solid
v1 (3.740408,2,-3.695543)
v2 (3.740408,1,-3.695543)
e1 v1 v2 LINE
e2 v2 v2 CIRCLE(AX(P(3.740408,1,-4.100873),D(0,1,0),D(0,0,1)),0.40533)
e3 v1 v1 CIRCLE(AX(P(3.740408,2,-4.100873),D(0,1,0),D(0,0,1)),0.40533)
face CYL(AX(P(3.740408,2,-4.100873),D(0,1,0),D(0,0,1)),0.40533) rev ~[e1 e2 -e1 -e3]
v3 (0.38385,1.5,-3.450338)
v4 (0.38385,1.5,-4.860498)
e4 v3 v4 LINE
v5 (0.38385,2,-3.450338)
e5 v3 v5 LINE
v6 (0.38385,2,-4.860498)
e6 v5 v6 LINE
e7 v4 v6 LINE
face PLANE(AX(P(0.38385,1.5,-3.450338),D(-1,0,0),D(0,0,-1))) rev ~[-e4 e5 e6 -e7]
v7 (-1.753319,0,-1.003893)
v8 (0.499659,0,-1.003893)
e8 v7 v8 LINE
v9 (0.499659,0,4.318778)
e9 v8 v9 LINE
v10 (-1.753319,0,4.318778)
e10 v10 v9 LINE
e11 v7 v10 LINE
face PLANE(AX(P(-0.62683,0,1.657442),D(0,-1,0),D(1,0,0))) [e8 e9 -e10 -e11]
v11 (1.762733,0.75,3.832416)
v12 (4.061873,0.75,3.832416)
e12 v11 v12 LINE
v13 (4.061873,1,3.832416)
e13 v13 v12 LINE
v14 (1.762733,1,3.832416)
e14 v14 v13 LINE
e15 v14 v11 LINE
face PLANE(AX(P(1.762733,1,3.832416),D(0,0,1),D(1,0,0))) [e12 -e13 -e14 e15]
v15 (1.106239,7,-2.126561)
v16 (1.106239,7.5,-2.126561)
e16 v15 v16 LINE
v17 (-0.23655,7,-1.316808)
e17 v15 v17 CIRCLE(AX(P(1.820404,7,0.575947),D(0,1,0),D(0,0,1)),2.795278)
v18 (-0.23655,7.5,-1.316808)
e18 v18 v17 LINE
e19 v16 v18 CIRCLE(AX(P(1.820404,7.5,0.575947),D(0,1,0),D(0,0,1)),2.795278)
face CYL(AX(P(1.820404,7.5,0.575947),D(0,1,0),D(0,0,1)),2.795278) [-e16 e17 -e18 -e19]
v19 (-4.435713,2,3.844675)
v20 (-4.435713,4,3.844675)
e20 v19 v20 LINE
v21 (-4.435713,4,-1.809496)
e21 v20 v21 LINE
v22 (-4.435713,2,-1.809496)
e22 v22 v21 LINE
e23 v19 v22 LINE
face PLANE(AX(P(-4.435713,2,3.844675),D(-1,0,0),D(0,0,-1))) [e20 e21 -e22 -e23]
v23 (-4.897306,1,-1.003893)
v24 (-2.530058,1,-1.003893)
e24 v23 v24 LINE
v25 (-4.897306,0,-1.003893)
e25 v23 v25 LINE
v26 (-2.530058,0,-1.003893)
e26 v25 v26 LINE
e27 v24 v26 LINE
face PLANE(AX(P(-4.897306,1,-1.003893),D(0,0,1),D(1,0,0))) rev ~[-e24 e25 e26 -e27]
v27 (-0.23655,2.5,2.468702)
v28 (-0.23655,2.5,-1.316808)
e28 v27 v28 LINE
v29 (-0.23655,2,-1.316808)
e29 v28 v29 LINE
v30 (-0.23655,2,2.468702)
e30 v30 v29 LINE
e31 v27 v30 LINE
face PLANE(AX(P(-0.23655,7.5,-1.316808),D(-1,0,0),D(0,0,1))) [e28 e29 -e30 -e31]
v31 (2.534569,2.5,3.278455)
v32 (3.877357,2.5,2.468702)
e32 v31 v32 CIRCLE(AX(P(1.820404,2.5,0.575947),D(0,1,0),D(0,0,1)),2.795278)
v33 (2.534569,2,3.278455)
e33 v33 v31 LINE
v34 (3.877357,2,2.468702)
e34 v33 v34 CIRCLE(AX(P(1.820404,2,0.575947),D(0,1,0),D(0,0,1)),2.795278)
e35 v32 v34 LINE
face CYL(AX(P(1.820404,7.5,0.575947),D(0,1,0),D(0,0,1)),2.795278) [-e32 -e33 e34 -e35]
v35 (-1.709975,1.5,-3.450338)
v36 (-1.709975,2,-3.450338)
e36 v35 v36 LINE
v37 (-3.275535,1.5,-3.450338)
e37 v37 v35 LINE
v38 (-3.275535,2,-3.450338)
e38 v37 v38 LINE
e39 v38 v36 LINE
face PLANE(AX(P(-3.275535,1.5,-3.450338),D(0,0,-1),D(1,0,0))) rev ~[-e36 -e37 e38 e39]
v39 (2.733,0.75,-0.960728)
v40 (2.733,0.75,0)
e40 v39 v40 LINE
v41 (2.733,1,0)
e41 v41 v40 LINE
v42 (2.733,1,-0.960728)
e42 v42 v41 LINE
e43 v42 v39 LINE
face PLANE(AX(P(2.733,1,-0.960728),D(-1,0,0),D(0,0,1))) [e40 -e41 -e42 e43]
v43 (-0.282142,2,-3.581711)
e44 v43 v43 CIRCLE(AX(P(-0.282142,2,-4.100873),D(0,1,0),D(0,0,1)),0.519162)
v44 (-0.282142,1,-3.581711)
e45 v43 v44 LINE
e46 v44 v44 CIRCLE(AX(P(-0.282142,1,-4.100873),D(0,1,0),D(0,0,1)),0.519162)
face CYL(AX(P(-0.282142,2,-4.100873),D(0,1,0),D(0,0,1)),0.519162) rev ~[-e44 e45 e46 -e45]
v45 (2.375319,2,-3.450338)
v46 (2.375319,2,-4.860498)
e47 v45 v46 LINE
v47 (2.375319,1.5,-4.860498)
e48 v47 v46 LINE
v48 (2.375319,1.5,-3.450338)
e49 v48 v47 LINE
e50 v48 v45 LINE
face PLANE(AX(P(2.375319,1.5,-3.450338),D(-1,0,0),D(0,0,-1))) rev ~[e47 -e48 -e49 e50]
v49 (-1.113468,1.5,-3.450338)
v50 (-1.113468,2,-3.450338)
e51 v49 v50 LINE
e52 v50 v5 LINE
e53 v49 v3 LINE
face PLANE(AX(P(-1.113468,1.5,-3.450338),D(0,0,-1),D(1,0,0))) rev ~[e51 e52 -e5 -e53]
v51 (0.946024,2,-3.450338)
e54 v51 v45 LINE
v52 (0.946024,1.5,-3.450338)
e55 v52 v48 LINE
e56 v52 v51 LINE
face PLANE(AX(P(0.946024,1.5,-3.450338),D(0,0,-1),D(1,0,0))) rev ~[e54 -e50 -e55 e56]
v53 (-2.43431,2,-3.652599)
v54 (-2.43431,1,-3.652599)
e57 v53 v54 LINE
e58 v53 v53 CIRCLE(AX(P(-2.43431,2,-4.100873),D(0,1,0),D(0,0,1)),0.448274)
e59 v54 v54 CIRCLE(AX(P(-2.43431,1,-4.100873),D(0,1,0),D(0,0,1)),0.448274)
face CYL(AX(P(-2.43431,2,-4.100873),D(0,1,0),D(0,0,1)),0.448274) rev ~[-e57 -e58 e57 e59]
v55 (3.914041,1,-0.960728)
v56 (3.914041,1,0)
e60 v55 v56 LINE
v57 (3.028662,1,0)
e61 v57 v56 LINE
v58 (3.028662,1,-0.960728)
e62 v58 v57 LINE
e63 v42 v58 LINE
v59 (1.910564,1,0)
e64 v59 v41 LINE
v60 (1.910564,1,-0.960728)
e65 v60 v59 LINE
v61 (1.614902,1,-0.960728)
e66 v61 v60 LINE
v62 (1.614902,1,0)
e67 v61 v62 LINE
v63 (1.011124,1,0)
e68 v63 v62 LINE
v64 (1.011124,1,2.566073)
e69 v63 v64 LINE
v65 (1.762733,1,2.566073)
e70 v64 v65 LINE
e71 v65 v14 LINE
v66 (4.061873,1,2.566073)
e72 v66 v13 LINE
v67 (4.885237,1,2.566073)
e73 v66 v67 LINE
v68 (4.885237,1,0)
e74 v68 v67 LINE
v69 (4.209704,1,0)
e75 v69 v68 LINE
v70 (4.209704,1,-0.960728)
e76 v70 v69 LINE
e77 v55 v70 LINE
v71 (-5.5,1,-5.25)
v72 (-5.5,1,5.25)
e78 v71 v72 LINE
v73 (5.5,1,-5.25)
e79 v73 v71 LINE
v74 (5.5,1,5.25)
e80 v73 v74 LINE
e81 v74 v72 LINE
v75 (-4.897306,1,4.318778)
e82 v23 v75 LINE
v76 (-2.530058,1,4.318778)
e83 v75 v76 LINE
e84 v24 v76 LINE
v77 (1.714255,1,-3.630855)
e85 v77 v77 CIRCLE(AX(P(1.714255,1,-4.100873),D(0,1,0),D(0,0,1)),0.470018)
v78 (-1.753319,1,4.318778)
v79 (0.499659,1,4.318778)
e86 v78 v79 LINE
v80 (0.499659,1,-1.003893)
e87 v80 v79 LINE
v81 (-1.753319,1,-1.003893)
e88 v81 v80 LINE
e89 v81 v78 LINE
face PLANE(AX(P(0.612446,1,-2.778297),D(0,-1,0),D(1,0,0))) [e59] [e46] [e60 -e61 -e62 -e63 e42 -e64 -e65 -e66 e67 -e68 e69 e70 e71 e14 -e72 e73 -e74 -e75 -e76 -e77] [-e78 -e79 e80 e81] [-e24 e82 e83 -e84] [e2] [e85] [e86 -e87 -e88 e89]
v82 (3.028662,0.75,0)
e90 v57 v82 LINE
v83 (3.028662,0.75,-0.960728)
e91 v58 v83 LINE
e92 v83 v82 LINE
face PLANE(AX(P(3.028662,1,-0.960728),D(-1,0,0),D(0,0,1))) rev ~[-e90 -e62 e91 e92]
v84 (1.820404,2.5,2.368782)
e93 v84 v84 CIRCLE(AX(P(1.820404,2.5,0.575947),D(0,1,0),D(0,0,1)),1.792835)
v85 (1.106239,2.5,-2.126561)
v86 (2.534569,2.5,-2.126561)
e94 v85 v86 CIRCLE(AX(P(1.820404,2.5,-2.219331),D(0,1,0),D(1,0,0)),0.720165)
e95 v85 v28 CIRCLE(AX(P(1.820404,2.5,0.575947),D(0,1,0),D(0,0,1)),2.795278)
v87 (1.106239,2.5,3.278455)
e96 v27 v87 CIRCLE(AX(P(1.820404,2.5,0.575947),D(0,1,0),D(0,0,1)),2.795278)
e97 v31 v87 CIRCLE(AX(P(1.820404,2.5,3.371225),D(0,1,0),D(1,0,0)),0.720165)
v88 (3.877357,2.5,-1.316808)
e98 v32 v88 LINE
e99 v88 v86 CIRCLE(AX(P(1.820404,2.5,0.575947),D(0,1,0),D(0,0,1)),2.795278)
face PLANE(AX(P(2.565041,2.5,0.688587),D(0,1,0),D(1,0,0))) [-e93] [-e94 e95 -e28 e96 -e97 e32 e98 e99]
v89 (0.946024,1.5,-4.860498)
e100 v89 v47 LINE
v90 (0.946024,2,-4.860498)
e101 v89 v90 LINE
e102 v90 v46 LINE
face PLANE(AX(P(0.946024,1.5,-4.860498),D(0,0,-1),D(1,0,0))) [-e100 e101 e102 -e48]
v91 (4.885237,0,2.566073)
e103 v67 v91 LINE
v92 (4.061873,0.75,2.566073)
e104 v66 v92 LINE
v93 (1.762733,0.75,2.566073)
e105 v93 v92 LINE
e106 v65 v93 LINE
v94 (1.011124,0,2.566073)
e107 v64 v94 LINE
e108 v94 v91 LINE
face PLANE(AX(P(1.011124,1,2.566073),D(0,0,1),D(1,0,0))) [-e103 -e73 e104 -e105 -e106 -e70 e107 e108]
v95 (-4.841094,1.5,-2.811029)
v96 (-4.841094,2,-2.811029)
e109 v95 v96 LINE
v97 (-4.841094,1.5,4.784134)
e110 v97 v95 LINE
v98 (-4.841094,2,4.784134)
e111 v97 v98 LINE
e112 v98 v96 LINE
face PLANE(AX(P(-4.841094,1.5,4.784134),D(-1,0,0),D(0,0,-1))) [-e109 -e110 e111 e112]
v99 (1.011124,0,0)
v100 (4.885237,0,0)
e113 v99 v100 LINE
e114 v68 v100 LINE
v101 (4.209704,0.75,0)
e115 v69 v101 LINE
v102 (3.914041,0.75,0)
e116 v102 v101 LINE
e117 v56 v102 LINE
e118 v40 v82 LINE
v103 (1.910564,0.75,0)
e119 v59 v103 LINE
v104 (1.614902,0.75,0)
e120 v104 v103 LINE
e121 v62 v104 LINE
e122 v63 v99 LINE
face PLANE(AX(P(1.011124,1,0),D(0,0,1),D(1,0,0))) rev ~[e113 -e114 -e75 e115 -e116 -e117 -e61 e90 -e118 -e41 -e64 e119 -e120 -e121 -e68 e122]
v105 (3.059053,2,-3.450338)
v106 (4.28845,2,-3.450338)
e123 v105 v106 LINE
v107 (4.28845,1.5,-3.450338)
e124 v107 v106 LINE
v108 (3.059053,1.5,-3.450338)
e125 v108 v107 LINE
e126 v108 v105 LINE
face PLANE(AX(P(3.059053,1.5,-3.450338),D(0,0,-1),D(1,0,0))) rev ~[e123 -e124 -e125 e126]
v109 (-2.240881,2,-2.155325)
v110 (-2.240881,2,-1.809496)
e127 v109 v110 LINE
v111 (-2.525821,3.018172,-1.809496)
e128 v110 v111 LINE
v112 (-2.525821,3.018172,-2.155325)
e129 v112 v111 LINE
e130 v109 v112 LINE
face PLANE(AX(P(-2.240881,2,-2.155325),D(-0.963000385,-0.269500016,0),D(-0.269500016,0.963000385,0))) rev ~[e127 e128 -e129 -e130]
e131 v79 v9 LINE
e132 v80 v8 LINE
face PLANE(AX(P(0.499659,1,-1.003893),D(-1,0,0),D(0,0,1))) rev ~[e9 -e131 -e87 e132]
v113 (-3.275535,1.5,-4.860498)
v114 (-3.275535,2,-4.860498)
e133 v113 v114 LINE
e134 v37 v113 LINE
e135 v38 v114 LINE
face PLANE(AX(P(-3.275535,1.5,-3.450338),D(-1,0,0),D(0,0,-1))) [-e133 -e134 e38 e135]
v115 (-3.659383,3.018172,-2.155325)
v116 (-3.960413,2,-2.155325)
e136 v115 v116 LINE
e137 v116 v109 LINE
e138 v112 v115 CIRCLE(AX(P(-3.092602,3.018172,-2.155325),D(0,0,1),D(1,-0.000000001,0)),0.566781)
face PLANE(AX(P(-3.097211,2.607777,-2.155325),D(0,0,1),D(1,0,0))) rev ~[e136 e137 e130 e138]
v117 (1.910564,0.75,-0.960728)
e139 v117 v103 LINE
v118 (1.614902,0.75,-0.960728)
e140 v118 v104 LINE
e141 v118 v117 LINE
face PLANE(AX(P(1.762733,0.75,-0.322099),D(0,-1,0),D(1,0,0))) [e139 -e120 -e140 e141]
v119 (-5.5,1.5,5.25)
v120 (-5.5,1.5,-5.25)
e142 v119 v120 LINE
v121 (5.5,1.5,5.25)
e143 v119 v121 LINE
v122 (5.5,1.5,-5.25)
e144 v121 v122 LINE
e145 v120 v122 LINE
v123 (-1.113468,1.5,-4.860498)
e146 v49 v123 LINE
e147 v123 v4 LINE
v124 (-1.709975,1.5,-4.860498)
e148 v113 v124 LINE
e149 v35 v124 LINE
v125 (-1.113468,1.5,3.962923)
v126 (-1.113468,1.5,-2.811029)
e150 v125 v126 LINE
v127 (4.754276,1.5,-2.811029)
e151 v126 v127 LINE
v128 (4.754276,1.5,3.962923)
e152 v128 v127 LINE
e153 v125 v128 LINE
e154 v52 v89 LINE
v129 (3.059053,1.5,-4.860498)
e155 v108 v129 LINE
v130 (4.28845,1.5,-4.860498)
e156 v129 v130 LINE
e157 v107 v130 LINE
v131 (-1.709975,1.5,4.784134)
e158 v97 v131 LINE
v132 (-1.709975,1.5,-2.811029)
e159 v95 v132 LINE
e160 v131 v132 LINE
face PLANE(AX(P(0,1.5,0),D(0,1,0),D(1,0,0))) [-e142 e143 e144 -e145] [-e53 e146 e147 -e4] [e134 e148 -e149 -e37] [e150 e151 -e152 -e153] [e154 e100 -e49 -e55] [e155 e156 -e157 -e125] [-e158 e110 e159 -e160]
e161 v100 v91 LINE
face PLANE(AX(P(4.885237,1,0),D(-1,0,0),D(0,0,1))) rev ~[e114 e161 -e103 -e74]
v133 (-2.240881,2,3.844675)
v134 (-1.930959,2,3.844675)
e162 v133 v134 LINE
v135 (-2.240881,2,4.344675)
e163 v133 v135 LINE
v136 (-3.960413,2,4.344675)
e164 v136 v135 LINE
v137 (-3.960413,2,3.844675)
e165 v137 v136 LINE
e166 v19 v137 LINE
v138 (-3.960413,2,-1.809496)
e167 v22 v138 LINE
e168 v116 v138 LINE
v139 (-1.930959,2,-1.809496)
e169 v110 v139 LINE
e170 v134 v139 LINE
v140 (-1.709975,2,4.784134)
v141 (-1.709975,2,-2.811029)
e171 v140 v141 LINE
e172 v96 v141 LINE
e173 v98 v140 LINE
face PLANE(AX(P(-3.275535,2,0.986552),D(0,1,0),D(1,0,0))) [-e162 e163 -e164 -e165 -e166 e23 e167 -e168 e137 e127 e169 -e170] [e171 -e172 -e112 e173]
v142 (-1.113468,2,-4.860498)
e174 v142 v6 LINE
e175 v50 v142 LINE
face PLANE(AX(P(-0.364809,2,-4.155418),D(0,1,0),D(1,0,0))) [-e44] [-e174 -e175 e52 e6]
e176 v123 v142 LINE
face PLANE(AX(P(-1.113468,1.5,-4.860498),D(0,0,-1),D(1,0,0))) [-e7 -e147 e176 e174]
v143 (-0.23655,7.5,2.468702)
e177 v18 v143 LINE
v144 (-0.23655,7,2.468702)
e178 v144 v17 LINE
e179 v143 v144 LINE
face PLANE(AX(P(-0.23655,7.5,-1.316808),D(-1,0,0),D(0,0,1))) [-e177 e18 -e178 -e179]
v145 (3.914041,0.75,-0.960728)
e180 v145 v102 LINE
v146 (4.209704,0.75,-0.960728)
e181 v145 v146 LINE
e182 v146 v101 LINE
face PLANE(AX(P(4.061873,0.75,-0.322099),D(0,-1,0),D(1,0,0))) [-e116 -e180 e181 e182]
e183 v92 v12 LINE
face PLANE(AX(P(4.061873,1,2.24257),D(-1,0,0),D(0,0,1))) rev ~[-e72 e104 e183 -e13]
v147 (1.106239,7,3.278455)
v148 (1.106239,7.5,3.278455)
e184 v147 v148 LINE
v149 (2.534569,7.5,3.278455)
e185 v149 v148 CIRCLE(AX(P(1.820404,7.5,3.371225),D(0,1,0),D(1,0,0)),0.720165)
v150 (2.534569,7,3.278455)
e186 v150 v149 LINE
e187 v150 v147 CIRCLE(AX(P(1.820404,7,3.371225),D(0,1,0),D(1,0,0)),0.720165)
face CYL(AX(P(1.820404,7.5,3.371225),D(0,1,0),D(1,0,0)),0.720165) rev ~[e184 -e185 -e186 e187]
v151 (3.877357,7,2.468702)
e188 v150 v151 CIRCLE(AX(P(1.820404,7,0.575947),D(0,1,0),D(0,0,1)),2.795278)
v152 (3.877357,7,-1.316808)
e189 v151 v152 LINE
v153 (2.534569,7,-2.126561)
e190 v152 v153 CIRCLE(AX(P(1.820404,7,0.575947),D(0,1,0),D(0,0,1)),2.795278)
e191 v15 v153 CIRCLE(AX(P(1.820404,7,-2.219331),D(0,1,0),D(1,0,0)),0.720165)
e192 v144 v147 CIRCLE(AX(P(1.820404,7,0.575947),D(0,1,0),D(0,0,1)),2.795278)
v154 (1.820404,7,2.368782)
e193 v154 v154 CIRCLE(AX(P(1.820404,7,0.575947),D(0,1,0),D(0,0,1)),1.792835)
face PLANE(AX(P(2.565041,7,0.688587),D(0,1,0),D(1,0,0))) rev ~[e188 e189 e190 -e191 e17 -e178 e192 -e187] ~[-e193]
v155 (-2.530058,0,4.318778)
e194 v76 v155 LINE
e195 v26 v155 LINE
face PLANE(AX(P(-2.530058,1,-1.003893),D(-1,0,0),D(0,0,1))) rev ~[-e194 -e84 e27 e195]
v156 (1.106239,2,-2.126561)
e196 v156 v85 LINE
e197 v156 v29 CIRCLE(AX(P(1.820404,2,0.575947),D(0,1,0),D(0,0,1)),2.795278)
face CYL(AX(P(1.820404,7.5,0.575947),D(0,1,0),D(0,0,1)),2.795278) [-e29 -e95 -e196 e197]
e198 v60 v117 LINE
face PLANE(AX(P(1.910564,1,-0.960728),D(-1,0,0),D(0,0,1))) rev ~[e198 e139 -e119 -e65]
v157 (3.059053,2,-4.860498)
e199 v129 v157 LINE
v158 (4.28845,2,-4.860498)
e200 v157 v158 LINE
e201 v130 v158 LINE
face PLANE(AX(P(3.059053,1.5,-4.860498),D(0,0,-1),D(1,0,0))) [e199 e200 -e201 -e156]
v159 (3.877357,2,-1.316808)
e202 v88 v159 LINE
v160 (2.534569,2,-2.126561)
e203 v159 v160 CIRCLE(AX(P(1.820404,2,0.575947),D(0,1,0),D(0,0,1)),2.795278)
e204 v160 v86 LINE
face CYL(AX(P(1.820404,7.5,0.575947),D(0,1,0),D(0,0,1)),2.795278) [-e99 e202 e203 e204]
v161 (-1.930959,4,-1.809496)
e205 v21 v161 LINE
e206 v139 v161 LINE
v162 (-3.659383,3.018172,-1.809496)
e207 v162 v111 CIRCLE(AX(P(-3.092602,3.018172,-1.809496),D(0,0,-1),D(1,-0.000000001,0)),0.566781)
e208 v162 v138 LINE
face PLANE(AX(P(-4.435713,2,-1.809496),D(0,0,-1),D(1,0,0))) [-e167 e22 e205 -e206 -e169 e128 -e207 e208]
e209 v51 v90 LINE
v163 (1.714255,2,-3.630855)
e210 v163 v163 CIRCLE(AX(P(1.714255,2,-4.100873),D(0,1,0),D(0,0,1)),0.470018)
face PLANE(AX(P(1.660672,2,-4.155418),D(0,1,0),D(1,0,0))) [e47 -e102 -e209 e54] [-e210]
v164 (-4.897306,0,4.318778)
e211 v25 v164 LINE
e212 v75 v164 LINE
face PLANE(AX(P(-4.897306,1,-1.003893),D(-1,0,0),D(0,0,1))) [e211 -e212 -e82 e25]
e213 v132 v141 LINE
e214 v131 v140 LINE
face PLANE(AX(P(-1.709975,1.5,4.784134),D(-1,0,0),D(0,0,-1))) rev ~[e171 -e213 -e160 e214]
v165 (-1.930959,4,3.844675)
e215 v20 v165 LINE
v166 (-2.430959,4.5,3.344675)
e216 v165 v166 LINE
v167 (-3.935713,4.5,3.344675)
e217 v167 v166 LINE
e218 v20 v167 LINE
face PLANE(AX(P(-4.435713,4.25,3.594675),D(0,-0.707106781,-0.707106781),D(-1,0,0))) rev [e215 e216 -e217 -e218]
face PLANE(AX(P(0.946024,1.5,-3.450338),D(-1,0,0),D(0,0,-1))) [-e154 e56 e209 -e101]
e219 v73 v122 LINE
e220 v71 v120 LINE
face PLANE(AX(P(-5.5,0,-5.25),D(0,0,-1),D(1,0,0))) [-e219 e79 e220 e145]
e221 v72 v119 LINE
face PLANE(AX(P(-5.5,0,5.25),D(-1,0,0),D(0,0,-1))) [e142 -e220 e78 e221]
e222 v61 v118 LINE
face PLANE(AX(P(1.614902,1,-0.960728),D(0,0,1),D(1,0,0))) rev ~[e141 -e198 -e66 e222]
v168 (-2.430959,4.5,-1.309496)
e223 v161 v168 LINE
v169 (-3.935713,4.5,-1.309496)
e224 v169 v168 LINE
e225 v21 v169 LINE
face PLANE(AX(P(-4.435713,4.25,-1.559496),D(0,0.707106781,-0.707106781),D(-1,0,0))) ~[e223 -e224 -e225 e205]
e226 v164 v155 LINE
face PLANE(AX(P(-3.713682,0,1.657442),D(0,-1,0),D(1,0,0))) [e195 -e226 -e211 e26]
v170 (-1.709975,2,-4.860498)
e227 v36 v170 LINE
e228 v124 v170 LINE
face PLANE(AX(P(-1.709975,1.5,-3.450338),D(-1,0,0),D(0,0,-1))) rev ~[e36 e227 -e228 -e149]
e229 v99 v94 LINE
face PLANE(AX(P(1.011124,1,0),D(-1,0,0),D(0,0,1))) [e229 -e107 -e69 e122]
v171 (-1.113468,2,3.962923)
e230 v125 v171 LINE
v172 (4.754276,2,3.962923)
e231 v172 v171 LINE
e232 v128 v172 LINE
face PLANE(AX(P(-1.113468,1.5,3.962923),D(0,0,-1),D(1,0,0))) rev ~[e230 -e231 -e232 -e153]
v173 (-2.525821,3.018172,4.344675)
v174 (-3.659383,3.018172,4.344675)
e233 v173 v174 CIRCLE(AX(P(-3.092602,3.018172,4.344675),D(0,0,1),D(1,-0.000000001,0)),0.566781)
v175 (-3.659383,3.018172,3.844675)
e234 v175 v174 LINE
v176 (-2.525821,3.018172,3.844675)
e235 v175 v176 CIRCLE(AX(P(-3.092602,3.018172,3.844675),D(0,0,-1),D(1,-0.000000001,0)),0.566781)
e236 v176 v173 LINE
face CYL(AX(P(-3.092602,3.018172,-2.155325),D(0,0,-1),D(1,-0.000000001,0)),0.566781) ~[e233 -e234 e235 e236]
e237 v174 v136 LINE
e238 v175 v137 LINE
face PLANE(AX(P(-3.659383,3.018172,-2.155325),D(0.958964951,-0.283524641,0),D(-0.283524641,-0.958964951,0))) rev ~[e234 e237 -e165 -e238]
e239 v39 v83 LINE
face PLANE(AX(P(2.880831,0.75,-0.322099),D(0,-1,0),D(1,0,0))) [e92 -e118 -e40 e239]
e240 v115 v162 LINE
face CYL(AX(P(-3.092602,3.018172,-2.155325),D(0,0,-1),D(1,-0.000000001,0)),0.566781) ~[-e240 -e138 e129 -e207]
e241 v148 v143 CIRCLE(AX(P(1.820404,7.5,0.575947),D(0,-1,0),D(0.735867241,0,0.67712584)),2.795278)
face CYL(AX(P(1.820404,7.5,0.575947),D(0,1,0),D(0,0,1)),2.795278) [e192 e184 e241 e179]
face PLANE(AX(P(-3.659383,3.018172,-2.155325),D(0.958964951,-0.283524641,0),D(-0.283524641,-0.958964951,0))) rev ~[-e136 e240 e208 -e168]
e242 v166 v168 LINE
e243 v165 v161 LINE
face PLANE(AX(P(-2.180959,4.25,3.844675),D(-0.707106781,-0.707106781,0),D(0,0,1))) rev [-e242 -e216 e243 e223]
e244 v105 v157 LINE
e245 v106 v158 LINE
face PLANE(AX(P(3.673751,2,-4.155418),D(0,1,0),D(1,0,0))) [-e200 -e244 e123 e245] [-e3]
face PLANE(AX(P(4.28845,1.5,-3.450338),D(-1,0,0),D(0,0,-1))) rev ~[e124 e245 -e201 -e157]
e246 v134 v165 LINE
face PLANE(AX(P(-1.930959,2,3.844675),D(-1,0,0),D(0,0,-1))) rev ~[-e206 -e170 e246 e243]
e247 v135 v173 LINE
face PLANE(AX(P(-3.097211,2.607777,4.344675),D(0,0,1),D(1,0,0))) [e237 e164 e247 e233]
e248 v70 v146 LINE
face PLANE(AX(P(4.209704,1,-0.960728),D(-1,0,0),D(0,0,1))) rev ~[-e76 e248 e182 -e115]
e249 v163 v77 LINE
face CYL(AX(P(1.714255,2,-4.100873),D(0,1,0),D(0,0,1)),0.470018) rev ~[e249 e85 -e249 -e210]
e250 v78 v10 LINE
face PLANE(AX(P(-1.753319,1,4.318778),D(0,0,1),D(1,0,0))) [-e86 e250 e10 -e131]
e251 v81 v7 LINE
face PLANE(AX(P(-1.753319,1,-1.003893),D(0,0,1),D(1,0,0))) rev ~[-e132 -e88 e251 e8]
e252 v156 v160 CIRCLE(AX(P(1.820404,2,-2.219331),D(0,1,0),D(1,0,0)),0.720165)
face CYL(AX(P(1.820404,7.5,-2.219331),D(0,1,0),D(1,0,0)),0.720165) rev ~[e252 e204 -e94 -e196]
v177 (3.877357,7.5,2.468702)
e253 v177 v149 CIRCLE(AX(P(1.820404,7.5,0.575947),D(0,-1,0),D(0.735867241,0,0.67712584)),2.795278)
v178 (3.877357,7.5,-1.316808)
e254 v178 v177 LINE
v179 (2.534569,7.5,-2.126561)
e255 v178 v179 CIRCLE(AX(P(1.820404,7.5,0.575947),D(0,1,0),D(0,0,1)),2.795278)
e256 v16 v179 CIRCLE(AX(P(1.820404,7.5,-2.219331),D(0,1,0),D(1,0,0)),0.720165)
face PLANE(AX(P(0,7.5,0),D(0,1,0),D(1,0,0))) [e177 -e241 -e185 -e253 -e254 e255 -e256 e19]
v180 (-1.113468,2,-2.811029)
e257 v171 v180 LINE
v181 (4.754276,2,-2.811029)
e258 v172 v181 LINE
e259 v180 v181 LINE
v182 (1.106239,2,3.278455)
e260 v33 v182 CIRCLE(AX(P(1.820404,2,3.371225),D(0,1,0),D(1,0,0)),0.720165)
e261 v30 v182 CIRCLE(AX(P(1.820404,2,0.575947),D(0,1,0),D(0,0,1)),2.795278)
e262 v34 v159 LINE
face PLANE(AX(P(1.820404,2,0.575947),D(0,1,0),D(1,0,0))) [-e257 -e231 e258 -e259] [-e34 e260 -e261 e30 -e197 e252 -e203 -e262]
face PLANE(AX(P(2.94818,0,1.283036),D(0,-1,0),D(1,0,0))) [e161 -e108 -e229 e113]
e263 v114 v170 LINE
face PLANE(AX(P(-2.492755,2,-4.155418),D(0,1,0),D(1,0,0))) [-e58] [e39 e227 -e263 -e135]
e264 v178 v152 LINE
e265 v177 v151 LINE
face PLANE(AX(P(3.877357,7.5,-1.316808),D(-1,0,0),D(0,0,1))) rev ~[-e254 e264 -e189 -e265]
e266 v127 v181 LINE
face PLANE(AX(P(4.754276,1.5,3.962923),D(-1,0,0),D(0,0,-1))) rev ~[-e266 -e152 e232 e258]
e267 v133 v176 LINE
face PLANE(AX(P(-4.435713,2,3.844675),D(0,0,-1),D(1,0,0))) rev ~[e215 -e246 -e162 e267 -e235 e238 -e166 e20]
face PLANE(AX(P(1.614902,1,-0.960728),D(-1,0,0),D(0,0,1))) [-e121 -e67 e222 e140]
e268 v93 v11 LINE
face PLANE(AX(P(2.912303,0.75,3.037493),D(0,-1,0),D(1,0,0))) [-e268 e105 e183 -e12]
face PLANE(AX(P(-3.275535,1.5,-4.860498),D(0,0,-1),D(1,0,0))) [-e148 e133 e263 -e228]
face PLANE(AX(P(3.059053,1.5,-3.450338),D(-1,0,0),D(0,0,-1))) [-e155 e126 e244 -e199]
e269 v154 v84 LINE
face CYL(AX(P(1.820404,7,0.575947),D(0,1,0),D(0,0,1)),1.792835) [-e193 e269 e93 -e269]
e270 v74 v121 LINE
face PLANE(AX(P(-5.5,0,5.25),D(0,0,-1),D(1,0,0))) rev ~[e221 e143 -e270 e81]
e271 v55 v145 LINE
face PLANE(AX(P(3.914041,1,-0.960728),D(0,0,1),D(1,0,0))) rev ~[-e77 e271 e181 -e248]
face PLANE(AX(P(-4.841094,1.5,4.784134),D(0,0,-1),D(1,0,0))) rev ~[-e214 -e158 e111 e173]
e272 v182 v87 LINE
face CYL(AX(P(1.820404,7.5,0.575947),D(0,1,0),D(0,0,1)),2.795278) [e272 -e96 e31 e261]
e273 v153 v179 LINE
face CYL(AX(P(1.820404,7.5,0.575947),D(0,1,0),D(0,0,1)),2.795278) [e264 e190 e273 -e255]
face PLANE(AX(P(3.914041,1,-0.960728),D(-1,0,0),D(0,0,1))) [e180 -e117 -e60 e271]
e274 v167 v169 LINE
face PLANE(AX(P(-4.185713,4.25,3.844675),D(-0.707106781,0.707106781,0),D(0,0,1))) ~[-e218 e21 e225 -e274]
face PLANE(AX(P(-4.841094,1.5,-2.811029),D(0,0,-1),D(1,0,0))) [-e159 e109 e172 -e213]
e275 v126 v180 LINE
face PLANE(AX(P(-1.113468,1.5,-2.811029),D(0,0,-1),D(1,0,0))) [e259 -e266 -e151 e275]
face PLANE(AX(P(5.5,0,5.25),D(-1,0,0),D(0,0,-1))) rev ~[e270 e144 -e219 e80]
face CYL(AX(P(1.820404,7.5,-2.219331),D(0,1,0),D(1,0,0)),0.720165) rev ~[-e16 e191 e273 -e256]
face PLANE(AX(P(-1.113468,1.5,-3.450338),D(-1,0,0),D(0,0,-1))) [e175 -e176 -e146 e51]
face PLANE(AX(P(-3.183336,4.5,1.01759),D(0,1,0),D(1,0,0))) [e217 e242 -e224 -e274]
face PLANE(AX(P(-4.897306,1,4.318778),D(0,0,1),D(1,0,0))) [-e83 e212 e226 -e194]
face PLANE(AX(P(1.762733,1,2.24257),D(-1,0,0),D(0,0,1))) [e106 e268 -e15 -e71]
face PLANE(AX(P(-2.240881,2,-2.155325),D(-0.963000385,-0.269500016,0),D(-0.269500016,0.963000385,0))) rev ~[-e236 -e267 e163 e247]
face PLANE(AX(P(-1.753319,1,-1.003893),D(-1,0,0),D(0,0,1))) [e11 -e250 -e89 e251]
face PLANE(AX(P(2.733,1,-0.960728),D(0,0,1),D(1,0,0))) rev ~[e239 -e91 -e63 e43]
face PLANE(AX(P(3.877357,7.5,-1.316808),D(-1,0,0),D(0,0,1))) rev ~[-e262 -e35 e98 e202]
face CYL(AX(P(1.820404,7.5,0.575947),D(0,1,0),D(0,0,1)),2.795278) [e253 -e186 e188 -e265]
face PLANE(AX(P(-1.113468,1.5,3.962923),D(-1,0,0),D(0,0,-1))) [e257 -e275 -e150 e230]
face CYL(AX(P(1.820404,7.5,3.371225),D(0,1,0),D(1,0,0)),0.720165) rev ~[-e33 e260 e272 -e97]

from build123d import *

# Parameters (mm, degrees)
SKETCH1_W                = 11
SKETCH1_H                = 10.5
BOSS_EXTRUDE1_DEPTH      = 7.5
SKETCH2_W                = 11
SKETCH2_H                = 10.5
SKETCH2_R                = 2.795278083
CUT_EXTRUDE1_DEPTH       = 6
CUT_EXTRUDE2_DEPTH       = 6
SKETCH5_W                = 5.867744682
SKETCH5_H                = 6.773951876
SKETCH5_W_2              = 3.131118199
SKETCH5_H_2              = 7.595162723
SKETCH5_W_3              = 1.565559099
SKETCH5_H_3              = 1.410160094
SKETCH5_W_4              = 1.497318165
SKETCH5_W_5              = 1.429294678
SKETCH5_W_6              = 1.22939712
BOSS_EXTRUDE2_DEPTH      = 0.5
SKETCH6_R                = 0.720165483
CUT_EXTRUDE3_DEPTH       = 5.5
CUT_EXTRUDE4_START       = -0.5
SKETCH7_W                = 6.315969547
SKETCH7_H                = 7.313839146
SKETCH7_R                = 1.792834501
CUT_EXTRUDE4_DEPTH       = 4.5
SKETCH8_W                = 2.504754688
SKETCH8_H                = 5.654171149
BOSS_EXTRUDE3_DEPTH      = 2.5
CHAMFER1_SIZE            = 0.5
BOSS_EXTRUDE4_DEPTH      = 0.5
BOSS_EXTRUDE4_DEPTH_BACK = 6
SKETCH11_R               = 0.448273795
SKETCH11_R_2             = 0.519161878
SKETCH11_R_3             = 0.470017501
SKETCH11_R_4             = 0.405329815
CUT_EXTRUDE5_DEPTH       = 6
SKETCH12_W               = 15.986280265
SKETCH12_H               = 22.221265256
CUT_EXTRUDE6_DEPTH       = 1
SKETCH14_W               = 2.367247422
SKETCH14_H               = 5.32267157
SKETCH14_W_2             = 2.25297781
SKETCH14_W_3             = 3.874113275
SKETCH14_H_2             = 2.566072862
BOSS_EXTRUDE5_DEPTH      = 1
SKETCH15_W               = 0.295662385
SKETCH15_H               = 1.277257847
SKETCH15_W_2             = 2.29913968
SKETCH15_H_2             = 1.589846546
BOSS_EXTRUDE6_DEPTH      = 0.25


with BuildPart() as part:
    # Sketch1 → Boss-Extrude1 (new body)
    with BuildSketch(Plane(origin=(0, 0, 0), x_dir=(1, 0, 0), z_dir=(0, 1, 0))):
        Rectangle(SKETCH1_W, SKETCH1_H)
    extrude(amount=BOSS_EXTRUDE1_DEPTH)

    # Sketch2 → Cut-Extrude1 (cut)
    with BuildSketch(Plane(origin=(0, 7.5, 0), x_dir=(1, 0, 0), z_dir=(0, 1, 0))):
        Rectangle(SKETCH2_W, SKETCH2_H)
        with Locations(Location((1.820403911, -0.575947, 0), (0, 0, 270))):
            Circle(SKETCH2_R, mode=Mode.SUBTRACT)
    extrude(amount=-CUT_EXTRUDE1_DEPTH, mode=Mode.SUBTRACT)

    # Sketch4 → Cut-Extrude2 (cut)
    with BuildSketch(Plane(origin=(0, 7.5, 0), x_dir=(1, 0, 0), z_dir=(0, 1, 0))):
        with BuildLine():
            Line((3.877357483, 1.31680802), (3.877357483, -2.46870202))
            ThreePointArc((3.877357483, -2.46870202), (4.615681994, -0.575947), (3.877357483, 1.31680802))
        make_face()
        with BuildLine():
            Line((-0.236549661, 1.31680802), (-0.236549661, -2.46870202))
            ThreePointArc((-0.236549661, -2.46870202), (-0.974874172, -0.575947), (-0.236549661, 1.31680802))
        make_face()
    extrude(amount=-CUT_EXTRUDE2_DEPTH, mode=Mode.SUBTRACT)

    # Sketch5 → Boss-Extrude2 (add)
    with BuildSketch(Plane(origin=(0, 1.5, 0), x_dir=(1, 0, 0), z_dir=(0, 1, 0))):
        with Locations((1.820403911, -0.575947)):
            Rectangle(SKETCH5_W, SKETCH5_H)
        with Locations((-3.275534534, -0.986552423)):
            Rectangle(SKETCH5_W_2, SKETCH5_H_2)
        with Locations((-2.492754984, 4.155418326)):
            Rectangle(SKETCH5_W_3, SKETCH5_H_3)
        with Locations((-0.364809348, 4.155418326)):
            Rectangle(SKETCH5_W_4, SKETCH5_H_3)
        with Locations((1.660671656, 4.155418326)):
            Rectangle(SKETCH5_W_5, SKETCH5_H_3)
        with Locations((3.673751281, 4.155418326)):
            Rectangle(SKETCH5_W_6, SKETCH5_H_3)
    extrude(amount=BOSS_EXTRUDE2_DEPTH)

    # Sketch6 → Cut-Extrude3 (cut)
    with BuildSketch(Plane(origin=(0, 7.5, 0), x_dir=(1, 0, 0), z_dir=(0, 1, 0))):
        with Locations((1.820403911, 2.219331083)):
            Circle(SKETCH6_R)
        with Locations((1.820403911, -3.371225083)):
            Circle(SKETCH6_R)
    extrude(amount=-CUT_EXTRUDE3_DEPTH, mode=Mode.SUBTRACT)

    # Sketch7 → Cut-Extrude4 (cut)
    with BuildSketch(Plane(origin=(0, 7.5, 0), x_dir=(1, 0, 0), z_dir=(0, 1, 0)).offset(CUT_EXTRUDE4_START)):
        with Locations((2.565041423, -0.688586972)):
            Rectangle(SKETCH7_W, SKETCH7_H)
        with Locations(Location((1.820403911, -0.575947, 0), (0, 0, 270))):
            Circle(SKETCH7_R, mode=Mode.SUBTRACT)
    extrude(amount=-CUT_EXTRUDE4_DEPTH, mode=Mode.SUBTRACT)

    # Sketch8 → Boss-Extrude3 (add)
    with BuildSketch(Plane(origin=(0, 2, 0), x_dir=(1, 0, 0), z_dir=(0, 1, 0))):
        with Locations((-3.183335966, -1.017589679)):
            Rectangle(SKETCH8_W, SKETCH8_H)
    extrude(amount=BOSS_EXTRUDE3_DEPTH)

    # Chamfer1
    chamfer1_edges = [part.edges().sort_by_distance(p)[0] for p in [
        (-4.43571331, 4.5, 1.017589679),
        (-3.183335966, 4.5, 3.844675254),
        (-1.930958622, 4.5, 1.017589679),
        (-3.183335966, 4.5, -1.809495895),
    ]]
    chamfer(chamfer1_edges, length=CHAMFER1_SIZE)

    # Sketch9 → Boss-Extrude4 (add, two sides: drawn at the far end of the back side and taken through both)
    with BuildSketch(Plane.XY.offset(3.844675254).offset(-BOSS_EXTRUDE4_DEPTH_BACK)):
        with BuildLine():
            Line((-3.65938344, 3.018172096), (-3.960413084, 2))
            Line((-3.960413084, 2), (-2.240880522, 2))
            Line((-2.240880522, 2), (-2.525820591, 3.018172096))
            ThreePointArc((-2.525820591, 3.018172096), (-3.092602015, 3.584953521), (-3.65938344, 3.018172096))
        make_face()
    extrude(amount=BOSS_EXTRUDE4_DEPTH + BOSS_EXTRUDE4_DEPTH_BACK)

    # Sketch11 → Cut-Extrude5 (cut)
    with BuildSketch(Plane(origin=(0, 2, 0), x_dir=(1, 0, 0), z_dir=(0, 1, 0))):
        with Locations(Location((-2.434309819, 4.1008725, 0), (0, 0, 270))):
            Circle(SKETCH11_R)
        with Locations(Location((-0.282142489, 4.1008725, 0), (0, 0, 270))):
            Circle(SKETCH11_R_2)
        with Locations(Location((1.714254577, 4.1008725, 0), (0, 0, 270))):
            Circle(SKETCH11_R_3)
        with Locations(Location((3.740407892, 4.1008725, 0), (0, 0, 270))):
            Circle(SKETCH11_R_4)
    extrude(amount=-CUT_EXTRUDE5_DEPTH, mode=Mode.SUBTRACT)

    # Sketch12 → Cut-Extrude6 (cut)
    with BuildSketch(Plane.XZ):
        with Locations((0.612445896, -2.778297047)):
            Rectangle(SKETCH12_W, SKETCH12_H)
    extrude(amount=-CUT_EXTRUDE6_DEPTH, mode=Mode.SUBTRACT)

    # Sketch14 → Boss-Extrude5 (add)
    with BuildSketch(Plane.XZ.offset(-1)):
        with Locations((-3.713682192, 1.657442308)):
            Rectangle(SKETCH14_W, SKETCH14_H)
        with Locations((-0.626830267, 1.657442308)):
            Rectangle(SKETCH14_W_2, SKETCH14_H)
        with Locations((2.948180384, 1.283036431)):
            Rectangle(SKETCH14_W_3, SKETCH14_H_2)
    extrude(amount=BOSS_EXTRUDE5_DEPTH)

    # Sketch15 → Boss-Extrude6 (add)
    with BuildSketch(Plane.XZ.offset(-1)):
        with Locations((1.762732856, -0.322099443)):
            Rectangle(SKETCH15_W, SKETCH15_H)
        with Locations((2.880831271, -0.322099443)):
            Rectangle(SKETCH15_W, SKETCH15_H)
        with Locations((4.061872536, -0.322099443)):
            Rectangle(SKETCH15_W, SKETCH15_H)
        with Locations((2.912302696, 3.03749296)):
            Rectangle(SKETCH15_W_2, SKETCH15_H_2)
    extrude(amount=BOSS_EXTRUDE6_DEPTH)


solid = part.part
